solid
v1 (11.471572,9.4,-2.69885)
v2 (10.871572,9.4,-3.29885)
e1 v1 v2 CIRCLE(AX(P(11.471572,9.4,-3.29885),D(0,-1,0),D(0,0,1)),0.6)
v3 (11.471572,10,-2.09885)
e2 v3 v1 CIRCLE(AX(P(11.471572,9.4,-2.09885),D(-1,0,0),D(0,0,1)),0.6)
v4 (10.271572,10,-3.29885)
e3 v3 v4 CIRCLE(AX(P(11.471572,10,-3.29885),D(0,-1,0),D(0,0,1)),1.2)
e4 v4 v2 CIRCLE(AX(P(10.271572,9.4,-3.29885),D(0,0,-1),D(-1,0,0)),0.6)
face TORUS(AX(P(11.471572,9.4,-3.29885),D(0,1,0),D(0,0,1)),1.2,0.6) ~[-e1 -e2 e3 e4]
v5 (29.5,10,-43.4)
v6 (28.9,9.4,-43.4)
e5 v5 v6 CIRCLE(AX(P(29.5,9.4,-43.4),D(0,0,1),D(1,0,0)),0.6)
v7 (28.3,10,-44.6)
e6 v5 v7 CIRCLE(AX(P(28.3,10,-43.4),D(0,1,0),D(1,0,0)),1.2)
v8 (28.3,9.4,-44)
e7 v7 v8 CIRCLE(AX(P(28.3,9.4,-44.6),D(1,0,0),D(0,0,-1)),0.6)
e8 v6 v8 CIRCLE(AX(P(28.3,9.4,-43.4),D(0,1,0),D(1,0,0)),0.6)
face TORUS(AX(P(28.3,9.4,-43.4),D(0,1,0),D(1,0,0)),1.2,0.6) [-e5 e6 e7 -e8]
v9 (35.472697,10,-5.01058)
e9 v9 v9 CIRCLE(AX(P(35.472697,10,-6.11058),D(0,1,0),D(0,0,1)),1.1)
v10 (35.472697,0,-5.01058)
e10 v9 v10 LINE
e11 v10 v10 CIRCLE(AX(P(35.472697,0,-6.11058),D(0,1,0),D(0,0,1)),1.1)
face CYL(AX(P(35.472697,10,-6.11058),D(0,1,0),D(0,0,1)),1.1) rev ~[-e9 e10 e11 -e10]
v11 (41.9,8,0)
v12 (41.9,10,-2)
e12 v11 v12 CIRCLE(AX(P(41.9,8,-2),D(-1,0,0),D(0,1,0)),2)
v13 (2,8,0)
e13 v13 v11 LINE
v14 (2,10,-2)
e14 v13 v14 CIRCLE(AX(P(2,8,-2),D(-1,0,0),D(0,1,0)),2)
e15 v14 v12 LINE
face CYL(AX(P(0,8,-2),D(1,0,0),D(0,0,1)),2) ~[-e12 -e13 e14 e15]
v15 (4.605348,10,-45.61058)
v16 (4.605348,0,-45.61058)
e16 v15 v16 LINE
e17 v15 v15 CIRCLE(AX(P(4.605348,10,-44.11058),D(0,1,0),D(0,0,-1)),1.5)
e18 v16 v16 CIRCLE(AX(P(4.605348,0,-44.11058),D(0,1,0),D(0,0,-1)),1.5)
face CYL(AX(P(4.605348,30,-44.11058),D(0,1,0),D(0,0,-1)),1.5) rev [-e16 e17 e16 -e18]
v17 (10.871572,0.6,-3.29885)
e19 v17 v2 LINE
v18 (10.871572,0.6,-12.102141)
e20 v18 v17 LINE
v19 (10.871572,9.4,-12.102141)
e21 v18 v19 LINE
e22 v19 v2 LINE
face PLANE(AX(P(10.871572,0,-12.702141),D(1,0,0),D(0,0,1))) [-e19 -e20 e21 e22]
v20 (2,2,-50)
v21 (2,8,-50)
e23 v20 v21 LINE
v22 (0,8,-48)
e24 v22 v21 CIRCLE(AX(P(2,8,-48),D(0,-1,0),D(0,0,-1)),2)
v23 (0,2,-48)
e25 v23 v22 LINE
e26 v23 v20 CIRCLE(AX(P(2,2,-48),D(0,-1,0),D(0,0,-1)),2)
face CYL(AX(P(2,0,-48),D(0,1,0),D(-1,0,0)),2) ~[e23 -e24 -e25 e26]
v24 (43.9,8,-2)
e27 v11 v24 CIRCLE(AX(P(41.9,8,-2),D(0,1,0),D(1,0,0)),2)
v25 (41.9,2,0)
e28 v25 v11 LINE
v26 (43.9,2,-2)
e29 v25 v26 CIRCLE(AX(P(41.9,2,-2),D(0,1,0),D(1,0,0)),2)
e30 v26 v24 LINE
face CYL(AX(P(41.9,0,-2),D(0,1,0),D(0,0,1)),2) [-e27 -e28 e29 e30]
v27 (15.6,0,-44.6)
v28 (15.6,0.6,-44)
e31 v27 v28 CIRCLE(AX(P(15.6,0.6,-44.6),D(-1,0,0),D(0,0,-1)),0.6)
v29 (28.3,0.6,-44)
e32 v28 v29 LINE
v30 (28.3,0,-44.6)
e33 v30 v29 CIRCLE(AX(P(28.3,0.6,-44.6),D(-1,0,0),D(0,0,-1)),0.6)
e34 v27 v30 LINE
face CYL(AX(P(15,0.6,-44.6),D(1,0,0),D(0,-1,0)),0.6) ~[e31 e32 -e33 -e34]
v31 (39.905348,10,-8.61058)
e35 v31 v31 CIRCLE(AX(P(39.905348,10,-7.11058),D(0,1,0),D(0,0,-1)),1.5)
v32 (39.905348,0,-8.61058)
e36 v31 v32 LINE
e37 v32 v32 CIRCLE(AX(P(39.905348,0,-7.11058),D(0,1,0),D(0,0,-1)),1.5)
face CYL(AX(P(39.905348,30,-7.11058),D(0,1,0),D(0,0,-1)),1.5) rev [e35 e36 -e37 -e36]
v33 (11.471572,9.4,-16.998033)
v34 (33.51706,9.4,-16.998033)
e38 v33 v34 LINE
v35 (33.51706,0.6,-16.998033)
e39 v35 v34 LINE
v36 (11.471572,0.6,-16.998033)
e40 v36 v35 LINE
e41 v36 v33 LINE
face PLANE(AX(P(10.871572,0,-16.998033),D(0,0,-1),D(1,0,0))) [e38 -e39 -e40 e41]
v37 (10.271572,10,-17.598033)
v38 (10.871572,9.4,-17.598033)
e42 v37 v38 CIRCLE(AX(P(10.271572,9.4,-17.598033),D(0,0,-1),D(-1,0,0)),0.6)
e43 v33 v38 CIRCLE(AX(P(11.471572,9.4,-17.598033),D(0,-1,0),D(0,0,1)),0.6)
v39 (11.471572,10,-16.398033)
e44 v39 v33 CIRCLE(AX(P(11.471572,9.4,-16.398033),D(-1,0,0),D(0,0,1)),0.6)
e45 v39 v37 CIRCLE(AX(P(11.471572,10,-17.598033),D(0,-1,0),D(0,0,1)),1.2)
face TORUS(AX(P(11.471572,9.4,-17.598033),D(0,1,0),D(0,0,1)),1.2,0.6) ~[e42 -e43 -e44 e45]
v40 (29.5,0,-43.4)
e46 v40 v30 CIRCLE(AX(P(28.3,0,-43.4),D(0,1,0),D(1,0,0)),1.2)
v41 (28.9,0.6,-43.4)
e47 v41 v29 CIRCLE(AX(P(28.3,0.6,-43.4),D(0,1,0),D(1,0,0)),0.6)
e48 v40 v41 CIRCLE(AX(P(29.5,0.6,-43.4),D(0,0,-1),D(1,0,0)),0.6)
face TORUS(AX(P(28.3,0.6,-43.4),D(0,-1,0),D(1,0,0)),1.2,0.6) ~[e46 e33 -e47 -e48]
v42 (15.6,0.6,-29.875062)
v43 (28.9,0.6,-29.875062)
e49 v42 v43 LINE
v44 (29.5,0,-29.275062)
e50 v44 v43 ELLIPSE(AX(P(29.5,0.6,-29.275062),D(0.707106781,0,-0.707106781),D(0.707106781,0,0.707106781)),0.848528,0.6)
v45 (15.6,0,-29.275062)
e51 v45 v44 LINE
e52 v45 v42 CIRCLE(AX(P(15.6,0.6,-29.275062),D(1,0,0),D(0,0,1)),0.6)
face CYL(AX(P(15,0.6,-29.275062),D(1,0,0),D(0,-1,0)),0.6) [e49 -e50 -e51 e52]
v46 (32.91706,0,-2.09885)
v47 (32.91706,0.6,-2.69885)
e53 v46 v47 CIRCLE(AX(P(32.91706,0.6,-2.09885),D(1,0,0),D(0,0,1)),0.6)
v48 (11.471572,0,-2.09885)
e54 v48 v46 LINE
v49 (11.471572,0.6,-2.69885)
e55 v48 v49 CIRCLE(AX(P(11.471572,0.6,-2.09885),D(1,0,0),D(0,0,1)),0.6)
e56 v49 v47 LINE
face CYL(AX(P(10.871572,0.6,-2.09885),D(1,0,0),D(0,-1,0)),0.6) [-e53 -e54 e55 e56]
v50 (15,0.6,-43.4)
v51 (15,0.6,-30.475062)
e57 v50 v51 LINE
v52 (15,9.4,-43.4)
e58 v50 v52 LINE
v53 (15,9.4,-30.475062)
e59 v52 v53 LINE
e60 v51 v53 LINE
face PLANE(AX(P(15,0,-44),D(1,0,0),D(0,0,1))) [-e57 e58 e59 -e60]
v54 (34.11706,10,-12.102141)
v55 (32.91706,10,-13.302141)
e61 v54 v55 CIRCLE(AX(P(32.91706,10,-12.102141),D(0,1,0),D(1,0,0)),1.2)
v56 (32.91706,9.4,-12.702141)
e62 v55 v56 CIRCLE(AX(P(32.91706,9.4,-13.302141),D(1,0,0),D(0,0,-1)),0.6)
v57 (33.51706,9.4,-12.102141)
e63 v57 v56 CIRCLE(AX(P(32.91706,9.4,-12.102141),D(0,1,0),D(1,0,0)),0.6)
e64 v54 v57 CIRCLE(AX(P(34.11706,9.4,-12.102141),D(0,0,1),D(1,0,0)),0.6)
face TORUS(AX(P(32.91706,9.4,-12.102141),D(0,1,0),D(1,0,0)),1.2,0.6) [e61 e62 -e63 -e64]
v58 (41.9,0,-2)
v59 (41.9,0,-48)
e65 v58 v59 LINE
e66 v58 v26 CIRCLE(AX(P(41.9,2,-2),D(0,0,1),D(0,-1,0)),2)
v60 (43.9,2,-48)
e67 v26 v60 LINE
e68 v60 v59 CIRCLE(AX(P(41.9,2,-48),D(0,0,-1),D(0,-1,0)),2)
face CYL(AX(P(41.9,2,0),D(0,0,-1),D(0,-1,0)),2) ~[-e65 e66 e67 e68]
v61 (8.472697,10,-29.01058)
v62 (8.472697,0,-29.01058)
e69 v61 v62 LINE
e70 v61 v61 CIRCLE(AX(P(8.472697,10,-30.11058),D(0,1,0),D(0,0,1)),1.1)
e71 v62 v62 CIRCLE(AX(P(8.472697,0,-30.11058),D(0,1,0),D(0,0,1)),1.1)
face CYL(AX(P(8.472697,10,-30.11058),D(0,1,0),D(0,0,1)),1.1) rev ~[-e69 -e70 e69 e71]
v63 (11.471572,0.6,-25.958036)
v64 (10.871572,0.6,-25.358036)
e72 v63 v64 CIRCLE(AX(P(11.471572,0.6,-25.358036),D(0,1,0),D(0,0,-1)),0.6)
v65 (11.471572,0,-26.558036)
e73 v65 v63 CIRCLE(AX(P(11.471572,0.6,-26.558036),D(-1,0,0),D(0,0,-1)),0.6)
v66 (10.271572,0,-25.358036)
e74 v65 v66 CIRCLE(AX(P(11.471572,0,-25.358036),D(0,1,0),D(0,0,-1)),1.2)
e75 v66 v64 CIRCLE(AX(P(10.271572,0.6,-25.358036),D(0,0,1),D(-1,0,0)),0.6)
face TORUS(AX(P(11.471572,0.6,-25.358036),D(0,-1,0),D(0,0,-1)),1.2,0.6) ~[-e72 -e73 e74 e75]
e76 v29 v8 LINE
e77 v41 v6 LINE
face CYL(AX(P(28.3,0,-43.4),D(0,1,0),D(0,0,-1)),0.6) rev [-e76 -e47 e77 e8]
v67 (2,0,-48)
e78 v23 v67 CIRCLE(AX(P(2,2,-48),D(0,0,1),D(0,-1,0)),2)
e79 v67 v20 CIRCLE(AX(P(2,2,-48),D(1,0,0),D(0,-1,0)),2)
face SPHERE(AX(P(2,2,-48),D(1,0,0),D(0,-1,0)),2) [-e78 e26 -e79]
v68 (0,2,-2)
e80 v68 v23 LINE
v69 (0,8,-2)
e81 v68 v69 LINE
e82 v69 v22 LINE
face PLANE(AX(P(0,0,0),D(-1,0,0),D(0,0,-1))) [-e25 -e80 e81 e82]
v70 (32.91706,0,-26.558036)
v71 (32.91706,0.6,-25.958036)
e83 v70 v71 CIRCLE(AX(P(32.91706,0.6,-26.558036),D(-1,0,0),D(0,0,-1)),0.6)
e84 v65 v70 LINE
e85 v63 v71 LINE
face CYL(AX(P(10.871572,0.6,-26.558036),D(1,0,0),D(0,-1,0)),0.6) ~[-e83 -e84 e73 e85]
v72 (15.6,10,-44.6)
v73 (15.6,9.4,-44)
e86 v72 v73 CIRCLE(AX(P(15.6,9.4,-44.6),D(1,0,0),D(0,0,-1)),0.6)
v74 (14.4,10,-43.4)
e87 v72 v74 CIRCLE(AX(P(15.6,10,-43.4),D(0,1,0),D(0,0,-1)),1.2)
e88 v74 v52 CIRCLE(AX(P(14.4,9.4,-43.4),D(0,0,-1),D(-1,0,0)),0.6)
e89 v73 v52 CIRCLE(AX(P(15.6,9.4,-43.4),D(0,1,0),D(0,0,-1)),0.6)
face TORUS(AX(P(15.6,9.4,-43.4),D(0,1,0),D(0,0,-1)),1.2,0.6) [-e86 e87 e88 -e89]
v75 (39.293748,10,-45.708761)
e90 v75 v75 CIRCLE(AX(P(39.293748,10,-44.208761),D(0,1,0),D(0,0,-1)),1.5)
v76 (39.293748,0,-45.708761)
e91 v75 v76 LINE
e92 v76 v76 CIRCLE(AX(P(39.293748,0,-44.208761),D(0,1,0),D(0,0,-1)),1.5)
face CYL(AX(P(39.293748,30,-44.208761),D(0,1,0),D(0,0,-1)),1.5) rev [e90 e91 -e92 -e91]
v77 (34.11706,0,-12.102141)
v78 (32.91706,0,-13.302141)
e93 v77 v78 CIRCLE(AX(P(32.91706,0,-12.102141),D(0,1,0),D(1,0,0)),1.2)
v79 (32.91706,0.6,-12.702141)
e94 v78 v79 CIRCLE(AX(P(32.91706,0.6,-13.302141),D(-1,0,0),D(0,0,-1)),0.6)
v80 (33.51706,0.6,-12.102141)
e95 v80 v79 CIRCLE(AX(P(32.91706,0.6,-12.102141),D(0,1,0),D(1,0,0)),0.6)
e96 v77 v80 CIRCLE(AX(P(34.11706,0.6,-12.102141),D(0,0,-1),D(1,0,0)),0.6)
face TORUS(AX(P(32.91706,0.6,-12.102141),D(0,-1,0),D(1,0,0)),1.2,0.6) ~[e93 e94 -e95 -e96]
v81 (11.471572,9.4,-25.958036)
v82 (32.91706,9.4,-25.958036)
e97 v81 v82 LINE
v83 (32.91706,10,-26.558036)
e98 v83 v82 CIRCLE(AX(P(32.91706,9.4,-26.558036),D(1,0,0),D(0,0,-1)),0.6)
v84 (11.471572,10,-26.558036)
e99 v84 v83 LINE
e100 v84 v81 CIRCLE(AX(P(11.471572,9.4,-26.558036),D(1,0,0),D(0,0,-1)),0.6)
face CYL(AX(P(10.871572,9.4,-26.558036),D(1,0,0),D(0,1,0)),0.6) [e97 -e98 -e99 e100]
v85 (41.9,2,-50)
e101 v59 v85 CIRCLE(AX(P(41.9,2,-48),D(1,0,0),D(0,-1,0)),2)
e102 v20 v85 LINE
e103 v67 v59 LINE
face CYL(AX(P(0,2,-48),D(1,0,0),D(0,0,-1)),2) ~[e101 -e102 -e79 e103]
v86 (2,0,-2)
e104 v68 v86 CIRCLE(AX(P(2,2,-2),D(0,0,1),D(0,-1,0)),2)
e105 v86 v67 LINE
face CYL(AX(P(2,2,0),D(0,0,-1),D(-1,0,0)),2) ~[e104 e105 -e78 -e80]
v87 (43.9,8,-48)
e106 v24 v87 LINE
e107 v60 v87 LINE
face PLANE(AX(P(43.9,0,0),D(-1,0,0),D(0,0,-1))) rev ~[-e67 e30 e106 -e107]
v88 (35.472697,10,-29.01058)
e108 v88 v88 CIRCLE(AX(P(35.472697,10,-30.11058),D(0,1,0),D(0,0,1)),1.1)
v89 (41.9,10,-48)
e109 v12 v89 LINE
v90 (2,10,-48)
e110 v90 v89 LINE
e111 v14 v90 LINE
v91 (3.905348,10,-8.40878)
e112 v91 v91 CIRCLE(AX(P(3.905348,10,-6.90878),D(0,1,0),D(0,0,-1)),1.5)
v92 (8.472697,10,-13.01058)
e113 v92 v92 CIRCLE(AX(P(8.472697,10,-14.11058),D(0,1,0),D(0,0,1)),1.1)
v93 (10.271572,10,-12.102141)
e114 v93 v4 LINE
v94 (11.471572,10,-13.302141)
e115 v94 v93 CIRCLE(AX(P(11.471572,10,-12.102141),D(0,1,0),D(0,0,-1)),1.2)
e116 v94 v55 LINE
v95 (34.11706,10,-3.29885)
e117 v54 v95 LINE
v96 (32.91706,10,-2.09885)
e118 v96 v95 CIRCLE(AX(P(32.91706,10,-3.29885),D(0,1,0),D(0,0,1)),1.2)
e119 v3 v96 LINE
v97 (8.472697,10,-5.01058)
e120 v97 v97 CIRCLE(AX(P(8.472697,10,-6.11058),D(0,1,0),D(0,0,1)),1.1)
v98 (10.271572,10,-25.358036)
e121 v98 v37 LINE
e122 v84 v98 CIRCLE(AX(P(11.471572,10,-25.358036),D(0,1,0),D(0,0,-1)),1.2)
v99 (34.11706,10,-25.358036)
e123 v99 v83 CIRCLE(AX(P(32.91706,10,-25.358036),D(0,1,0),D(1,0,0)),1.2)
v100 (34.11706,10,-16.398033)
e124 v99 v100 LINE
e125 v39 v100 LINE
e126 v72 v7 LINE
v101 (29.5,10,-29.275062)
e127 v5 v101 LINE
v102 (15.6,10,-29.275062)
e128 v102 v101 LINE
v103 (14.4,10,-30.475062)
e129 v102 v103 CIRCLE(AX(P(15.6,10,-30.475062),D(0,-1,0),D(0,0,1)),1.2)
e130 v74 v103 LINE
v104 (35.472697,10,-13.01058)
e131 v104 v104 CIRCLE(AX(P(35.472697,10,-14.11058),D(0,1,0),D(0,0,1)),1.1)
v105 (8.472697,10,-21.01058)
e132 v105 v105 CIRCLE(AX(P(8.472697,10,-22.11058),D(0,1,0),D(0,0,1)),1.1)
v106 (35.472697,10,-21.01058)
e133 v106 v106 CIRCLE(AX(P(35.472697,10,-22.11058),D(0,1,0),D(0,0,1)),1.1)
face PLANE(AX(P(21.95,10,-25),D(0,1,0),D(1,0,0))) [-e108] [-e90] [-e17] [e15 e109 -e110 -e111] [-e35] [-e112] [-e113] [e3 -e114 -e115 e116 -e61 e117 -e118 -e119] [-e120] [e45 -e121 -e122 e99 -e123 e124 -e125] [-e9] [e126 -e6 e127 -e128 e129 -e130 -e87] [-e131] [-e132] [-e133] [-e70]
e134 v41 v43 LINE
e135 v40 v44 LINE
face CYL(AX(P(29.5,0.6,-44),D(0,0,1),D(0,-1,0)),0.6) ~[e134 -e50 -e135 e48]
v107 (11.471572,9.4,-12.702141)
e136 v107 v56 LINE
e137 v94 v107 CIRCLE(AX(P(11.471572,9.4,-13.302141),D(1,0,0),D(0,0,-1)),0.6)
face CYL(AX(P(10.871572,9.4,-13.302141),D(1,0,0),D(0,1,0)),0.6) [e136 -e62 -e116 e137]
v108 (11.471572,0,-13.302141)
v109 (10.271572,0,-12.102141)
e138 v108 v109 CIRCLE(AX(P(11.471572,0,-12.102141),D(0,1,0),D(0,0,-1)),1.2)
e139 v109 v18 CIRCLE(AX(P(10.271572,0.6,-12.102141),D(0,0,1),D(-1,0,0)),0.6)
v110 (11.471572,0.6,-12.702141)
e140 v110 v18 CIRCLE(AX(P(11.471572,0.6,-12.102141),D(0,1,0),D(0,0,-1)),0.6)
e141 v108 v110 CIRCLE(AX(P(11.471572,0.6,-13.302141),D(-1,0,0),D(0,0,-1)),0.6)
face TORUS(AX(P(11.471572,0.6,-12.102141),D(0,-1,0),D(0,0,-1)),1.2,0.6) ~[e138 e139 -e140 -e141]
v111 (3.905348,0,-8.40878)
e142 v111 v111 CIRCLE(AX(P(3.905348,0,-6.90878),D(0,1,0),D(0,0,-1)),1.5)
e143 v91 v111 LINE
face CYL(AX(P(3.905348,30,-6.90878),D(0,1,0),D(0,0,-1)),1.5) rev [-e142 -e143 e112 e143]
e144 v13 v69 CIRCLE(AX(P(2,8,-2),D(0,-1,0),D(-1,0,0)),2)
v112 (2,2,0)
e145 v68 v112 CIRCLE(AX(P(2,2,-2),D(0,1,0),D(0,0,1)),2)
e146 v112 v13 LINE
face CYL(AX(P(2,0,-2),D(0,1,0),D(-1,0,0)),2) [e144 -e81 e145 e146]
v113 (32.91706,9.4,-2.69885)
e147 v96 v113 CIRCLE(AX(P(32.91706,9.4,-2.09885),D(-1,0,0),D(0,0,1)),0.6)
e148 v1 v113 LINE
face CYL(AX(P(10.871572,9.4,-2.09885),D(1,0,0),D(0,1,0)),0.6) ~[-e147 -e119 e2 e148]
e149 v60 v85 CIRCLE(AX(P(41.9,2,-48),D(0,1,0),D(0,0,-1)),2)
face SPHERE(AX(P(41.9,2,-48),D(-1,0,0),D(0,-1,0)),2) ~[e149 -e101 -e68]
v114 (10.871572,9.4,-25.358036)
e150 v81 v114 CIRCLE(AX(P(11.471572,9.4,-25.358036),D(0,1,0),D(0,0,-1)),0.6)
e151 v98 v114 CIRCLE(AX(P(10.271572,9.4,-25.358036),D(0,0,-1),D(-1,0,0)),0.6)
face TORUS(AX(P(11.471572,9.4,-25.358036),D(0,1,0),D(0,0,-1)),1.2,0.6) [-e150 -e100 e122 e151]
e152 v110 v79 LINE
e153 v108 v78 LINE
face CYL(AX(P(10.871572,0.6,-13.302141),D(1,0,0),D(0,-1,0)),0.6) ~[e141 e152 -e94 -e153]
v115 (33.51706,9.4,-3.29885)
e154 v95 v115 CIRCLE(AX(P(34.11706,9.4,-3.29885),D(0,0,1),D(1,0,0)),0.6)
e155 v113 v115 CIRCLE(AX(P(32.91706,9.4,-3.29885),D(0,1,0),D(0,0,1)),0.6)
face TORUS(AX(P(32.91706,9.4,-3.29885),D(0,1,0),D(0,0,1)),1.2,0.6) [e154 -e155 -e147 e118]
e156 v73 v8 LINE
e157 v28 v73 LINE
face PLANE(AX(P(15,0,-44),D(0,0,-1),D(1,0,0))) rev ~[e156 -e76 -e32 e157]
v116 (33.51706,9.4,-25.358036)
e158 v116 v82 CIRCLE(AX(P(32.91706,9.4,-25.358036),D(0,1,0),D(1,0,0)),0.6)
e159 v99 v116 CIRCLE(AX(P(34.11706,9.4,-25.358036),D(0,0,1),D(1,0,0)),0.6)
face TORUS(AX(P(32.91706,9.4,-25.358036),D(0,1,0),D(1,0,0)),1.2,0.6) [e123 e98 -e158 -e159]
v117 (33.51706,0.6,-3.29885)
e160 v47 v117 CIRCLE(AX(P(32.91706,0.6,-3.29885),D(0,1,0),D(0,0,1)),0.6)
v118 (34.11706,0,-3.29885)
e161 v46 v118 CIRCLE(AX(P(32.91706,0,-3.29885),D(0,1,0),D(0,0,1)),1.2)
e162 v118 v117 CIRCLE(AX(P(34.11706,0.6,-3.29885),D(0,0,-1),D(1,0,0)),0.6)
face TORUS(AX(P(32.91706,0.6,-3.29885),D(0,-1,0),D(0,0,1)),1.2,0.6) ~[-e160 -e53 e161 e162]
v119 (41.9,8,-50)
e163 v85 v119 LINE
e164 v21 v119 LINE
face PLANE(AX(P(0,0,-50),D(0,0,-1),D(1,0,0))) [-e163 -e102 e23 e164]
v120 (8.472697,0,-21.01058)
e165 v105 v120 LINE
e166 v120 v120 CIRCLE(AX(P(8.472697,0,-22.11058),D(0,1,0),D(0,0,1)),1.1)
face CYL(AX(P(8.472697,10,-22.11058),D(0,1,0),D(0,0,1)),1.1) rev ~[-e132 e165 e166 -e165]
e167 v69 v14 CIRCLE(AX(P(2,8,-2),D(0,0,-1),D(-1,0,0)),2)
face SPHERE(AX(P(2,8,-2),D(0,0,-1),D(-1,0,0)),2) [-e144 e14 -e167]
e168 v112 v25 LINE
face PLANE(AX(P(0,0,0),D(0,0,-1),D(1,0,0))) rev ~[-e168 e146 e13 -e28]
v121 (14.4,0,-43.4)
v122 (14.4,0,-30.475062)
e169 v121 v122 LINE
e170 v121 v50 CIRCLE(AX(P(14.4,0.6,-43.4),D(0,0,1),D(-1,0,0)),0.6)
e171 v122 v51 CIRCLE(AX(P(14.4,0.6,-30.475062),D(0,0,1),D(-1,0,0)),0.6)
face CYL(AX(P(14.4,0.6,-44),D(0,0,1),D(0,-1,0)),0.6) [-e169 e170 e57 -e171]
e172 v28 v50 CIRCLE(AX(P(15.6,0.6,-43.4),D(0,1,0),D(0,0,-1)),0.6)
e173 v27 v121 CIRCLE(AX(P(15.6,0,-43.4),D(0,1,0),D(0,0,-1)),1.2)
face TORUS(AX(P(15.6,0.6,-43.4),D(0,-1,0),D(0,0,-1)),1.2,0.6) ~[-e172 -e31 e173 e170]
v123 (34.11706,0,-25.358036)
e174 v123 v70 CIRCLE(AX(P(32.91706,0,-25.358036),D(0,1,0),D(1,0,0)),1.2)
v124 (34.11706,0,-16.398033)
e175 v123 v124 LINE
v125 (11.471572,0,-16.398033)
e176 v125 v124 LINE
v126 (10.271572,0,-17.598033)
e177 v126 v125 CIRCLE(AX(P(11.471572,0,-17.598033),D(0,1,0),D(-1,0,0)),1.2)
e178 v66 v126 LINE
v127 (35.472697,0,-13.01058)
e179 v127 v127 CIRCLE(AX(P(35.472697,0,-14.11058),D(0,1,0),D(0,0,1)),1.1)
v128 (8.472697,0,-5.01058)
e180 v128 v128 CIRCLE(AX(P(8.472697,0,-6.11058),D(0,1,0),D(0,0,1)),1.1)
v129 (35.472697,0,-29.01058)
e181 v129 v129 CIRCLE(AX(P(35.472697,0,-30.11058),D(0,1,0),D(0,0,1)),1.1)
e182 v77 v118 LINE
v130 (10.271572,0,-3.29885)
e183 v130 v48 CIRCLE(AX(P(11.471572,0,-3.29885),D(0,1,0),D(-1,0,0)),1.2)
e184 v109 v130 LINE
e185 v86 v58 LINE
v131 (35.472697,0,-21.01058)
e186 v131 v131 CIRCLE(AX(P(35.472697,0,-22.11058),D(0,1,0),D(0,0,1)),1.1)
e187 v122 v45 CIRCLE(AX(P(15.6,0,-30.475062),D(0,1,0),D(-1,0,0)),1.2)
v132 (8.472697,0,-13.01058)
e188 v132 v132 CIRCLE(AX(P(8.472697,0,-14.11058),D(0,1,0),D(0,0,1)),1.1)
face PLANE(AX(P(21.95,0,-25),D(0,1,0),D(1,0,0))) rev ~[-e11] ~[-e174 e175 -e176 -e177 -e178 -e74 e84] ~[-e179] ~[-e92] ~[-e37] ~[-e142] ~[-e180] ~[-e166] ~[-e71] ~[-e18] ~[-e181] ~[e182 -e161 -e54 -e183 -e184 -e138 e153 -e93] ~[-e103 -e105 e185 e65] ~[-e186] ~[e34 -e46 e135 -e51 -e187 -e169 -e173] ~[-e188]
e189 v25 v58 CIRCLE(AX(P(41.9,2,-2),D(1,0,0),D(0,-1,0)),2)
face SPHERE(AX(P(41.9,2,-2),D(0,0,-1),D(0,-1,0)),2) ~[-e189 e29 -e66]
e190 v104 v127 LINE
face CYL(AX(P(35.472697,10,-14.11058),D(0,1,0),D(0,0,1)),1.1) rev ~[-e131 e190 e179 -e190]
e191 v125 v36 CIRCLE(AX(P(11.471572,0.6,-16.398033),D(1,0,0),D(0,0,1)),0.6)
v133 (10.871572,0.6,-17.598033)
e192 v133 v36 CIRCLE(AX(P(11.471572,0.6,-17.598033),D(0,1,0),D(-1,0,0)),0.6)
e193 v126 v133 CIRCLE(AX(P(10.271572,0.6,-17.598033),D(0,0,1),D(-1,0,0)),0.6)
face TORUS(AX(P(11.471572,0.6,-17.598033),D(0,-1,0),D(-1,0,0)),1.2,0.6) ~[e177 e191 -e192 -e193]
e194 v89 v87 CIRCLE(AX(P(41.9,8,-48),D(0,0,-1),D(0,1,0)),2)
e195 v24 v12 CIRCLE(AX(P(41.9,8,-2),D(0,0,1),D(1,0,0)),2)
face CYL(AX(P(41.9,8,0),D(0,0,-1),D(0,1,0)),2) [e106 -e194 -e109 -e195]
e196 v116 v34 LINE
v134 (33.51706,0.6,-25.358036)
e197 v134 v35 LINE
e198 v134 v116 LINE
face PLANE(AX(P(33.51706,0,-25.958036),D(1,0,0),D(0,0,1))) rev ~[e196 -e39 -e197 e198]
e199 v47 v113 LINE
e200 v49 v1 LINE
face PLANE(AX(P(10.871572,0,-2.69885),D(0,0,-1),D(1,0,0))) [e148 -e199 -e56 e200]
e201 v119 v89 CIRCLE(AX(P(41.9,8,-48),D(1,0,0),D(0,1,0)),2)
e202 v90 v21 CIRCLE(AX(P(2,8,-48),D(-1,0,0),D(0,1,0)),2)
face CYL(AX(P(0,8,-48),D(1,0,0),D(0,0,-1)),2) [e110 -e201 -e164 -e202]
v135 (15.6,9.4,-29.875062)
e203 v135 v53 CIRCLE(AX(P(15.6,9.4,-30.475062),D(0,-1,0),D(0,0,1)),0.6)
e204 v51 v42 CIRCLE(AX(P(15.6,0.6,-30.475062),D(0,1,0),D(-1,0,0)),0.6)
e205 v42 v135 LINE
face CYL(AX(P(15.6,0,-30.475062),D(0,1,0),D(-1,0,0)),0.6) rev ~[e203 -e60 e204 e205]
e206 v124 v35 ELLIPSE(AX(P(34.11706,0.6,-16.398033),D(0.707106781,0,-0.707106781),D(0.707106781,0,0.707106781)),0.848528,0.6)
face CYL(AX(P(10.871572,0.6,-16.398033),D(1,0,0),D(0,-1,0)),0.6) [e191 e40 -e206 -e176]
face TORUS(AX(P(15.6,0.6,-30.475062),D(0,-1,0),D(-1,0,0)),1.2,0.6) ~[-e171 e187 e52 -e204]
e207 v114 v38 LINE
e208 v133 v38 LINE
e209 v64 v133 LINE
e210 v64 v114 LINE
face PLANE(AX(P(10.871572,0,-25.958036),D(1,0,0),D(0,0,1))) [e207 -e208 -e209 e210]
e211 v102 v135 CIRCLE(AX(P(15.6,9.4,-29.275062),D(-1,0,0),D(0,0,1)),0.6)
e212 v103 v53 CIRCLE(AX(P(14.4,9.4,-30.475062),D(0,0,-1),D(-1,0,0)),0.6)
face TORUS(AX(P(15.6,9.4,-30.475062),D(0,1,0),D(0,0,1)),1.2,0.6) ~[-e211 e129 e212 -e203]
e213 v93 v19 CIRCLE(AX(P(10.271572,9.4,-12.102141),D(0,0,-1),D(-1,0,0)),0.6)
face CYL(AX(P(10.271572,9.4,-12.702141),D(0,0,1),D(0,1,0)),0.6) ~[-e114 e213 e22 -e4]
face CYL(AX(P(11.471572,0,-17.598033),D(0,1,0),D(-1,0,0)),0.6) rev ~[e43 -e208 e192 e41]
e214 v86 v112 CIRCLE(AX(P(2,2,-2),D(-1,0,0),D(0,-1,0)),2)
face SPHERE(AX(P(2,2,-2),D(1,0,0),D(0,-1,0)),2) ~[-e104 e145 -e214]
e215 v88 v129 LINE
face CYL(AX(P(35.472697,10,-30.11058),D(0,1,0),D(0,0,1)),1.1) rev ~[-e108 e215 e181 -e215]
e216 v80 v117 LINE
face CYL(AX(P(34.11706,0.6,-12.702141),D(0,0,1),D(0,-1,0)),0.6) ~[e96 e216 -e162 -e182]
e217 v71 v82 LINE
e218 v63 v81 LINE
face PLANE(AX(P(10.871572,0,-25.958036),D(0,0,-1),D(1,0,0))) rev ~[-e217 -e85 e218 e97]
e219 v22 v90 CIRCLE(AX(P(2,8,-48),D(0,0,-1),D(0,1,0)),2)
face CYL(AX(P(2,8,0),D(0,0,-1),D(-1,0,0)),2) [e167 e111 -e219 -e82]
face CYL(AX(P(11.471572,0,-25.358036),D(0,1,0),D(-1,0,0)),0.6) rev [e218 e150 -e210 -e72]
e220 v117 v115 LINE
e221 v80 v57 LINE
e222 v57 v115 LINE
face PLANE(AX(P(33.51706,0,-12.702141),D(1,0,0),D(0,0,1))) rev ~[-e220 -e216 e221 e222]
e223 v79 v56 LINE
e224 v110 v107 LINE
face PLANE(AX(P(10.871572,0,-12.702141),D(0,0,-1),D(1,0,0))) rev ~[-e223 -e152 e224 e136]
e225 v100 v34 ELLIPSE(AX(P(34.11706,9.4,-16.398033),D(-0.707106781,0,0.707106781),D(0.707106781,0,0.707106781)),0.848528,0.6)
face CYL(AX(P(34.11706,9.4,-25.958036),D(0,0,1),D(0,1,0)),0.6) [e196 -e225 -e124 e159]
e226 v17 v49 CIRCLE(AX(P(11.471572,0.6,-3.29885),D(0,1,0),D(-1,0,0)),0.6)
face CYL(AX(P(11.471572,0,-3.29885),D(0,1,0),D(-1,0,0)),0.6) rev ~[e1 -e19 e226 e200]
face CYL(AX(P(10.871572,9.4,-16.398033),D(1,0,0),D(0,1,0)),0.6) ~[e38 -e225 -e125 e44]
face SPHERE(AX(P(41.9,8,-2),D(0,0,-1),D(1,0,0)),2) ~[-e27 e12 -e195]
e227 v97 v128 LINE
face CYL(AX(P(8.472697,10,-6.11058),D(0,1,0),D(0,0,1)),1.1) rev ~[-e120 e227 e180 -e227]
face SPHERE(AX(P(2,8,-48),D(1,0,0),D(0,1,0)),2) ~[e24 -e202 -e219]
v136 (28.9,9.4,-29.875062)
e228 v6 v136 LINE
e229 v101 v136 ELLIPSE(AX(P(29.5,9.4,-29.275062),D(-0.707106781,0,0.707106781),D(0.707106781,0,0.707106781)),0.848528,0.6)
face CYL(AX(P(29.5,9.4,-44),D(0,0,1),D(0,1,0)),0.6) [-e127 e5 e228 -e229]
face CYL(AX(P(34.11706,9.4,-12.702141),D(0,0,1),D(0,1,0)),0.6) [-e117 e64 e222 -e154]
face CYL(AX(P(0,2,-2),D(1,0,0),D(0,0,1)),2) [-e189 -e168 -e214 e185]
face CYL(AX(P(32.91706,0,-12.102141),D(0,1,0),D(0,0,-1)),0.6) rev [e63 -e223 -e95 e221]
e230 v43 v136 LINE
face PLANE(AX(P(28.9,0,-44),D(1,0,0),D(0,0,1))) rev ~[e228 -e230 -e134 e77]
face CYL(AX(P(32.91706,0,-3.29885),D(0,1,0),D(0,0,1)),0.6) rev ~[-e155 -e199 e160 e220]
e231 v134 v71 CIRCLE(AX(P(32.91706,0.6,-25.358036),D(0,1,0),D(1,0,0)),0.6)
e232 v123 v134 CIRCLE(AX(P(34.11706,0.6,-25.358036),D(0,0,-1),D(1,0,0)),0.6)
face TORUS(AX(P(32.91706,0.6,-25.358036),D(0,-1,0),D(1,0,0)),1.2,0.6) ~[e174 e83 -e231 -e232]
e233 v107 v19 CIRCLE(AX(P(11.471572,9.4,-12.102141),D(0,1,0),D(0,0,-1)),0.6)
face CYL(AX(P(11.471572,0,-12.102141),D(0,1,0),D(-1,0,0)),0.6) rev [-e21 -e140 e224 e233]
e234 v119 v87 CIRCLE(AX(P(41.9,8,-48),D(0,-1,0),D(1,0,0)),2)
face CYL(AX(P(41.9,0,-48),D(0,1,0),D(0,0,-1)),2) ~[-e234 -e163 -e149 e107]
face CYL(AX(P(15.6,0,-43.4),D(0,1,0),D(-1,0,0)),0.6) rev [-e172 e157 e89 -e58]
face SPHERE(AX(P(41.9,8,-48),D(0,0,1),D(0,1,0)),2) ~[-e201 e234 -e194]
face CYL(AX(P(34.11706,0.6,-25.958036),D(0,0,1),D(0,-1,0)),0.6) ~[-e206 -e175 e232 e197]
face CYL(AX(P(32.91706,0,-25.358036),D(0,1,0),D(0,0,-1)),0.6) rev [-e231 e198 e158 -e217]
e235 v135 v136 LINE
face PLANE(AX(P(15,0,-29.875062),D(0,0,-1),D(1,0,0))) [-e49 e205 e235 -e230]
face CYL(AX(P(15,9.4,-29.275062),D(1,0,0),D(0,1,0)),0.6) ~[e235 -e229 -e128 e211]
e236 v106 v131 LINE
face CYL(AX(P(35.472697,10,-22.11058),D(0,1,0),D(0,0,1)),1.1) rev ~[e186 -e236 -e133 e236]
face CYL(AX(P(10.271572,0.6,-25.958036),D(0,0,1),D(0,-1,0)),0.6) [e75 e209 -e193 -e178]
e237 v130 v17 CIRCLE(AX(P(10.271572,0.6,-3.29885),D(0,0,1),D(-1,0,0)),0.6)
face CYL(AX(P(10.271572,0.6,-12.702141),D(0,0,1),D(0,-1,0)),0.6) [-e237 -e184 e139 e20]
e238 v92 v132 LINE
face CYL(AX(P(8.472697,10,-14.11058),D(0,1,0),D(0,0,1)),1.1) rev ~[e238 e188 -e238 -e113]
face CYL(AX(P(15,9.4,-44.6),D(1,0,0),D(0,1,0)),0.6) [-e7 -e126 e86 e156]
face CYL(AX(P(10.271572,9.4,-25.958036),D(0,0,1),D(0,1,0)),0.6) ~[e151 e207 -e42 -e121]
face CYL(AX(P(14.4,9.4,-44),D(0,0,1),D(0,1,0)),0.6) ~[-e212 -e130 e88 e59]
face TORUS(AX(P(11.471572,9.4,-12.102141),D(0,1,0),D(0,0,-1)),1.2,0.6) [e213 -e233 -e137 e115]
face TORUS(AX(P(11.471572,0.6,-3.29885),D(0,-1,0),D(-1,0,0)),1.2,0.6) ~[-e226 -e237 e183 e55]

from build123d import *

# Parameters (mm, degrees)
SKETCH1_W               = 43.9
SKETCH1_H               = 50
BOSS_EXTRUDE1_DEPTH     = 10
SKETCH2_W               = 13.9
SKETCH2_H               = 14.124937778
SKETCH2_W_2             = 22.645487531
SKETCH2_H_2             = 8.960003197
SKETCH2_H_3             = 10.00329124
CUT_EXTRUDE1_DEPTH      = 10
SKETCH6_R               = 1.1
CUT_EXTRUDE2_DEPTH      = 10
CUT_EXTRUDE3_DEPTH      = 30
CUT_EXTRUDE3_DEPTH_BACK = 30
SKETCH7_R               = 1.5
FILLET1_R               = 2
FILLET2_R               = 0.6


with BuildPart() as part:
    # Sketch1 → Boss-Extrude1 (new body)
    with BuildSketch(Plane(origin=(0, 0, 0), x_dir=(1, 0, 0), z_dir=(0, 1, 0))):
        with Locations((21.95, 25)):
            Rectangle(SKETCH1_W, SKETCH1_H)
    extrude(amount=BOSS_EXTRUDE1_DEPTH)

    # Sketch2 → Cut-Extrude1 (cut)
    with BuildSketch(Plane.XZ):
        with Locations((21.95, -36.937531111)):
            Rectangle(SKETCH2_W, SKETCH2_H)
        with Locations((22.194315827, -21.478034433)):
            Rectangle(SKETCH2_W_2, SKETCH2_H_2)
        with Locations((22.194315827, -7.700495272)):
            Rectangle(SKETCH2_W_2, SKETCH2_H_3)
    extrude(amount=-CUT_EXTRUDE1_DEPTH, mode=Mode.SUBTRACT)

    # Sketch6 → Cut-Extrude2 (cut)
    with BuildSketch(Plane(origin=(0, 10, 0), x_dir=(1, 0, 0), z_dir=(0, 1, 0))):
        with Locations((8.47269685, 30.110580354)):
            Circle(SKETCH6_R)
        with Locations((8.47269685, 22.110580354)):
            Circle(SKETCH6_R)
        with Locations((8.47269685, 14.110580354)):
            Circle(SKETCH6_R)
        with Locations((8.47269685, 6.110580354)):
            Circle(SKETCH6_R)
        with Locations((35.47269685, 6.110580354)):
            Circle(SKETCH6_R)
        with Locations((35.47269685, 14.110580354)):
            Circle(SKETCH6_R)
        with Locations((35.47269685, 22.110580354)):
            Circle(SKETCH6_R)
        with Locations((35.47269685, 30.110580354)):
            Circle(SKETCH6_R)
    extrude(amount=-CUT_EXTRUDE2_DEPTH, mode=Mode.SUBTRACT)

    # Sketch7 → Cut-Extrude3 (cut, two sides: drawn at the far end of the back side and taken through both)
    with BuildSketch(Plane.XZ.offset(-CUT_EXTRUDE3_DEPTH_BACK)):
        with Locations((4.60534828, -44.110580354)):
            Circle(SKETCH7_R)
        with Locations((39.293747868, -44.208761067)):
            Circle(SKETCH7_R)
        with Locations((39.90534828, -7.110580354)):
            Circle(SKETCH7_R)
        with Locations((3.90534828, -6.908780227)):
            Circle(SKETCH7_R)
    extrude(amount=CUT_EXTRUDE3_DEPTH + CUT_EXTRUDE3_DEPTH_BACK, mode=Mode.SUBTRACT)

    # Fillet1
    fillet1_edges = [part.edges().sort_by_distance(p)[0] for p in [
        (21.95, 10, -50),
        (21.95, 0, -50),
        (43.9, 10, -25),
        (43.9, 5, -50),
        (43.9, 0, -25),
        (21.95, 10, 0),
        (43.9, 5, 0),
        (21.95, 0, 0),
        (0, 5, -50),
        (0, 10, -25),
        (0, 5, 0),
        (0, 0, -25),
    ]]
    fillet(fillet1_edges, radius=FILLET1_R)

    # Fillet2
    fillet2_edges = [part.edges().sort_by_distance(p)[0] for p in [
        (28.9, 10, -36.937531111),
        (28.9, 0, -36.937531111),
        (21.95, 10, -29.875062222),
        (21.95, 0, -29.875062222),
        (33.517059593, 10, -21.478034433),
        (33.517059593, 0, -21.478034433),
        (22.194315827, 10, -16.998032835),
        (22.194315827, 0, -16.998032835),
        (33.517059593, 10, -7.700495272),
        (33.517059593, 0, -7.700495272),
        (21.95, 10, -44),
        (28.9, 5, -44),
        (21.95, 0, -44),
        (15, 5, -29.875062222),
        (15, 10, -36.937531111),
        (15, 5, -44),
        (15, 0, -36.937531111),
        (22.194315827, 10, -25.958036032),
        (33.517059593, 5, -25.958036032),
        (22.194315827, 0, -25.958036032),
        (10.871572062, 5, -16.998032835),
        (10.871572062, 10, -21.478034433),
        (10.871572062, 5, -25.958036032),
        (10.871572062, 0, -21.478034433),
        (22.194315827, 10, -12.702140892),
        (33.517059593, 5, -12.702140892),
        (22.194315827, 0, -12.702140892),
        (10.871572062, 10, -7.700495272),
        (10.871572062, 5, -12.702140892),
        (10.871572062, 0, -7.700495272),
        (33.517059593, 5, -2.698849652),
        (22.194315827, 10, -2.698849652),
        (10.871572062, 5, -2.698849652),
        (22.194315827, 0, -2.698849652),
    ]]
    fillet(fillet2_edges, radius=FILLET2_R)


solid = part.part
